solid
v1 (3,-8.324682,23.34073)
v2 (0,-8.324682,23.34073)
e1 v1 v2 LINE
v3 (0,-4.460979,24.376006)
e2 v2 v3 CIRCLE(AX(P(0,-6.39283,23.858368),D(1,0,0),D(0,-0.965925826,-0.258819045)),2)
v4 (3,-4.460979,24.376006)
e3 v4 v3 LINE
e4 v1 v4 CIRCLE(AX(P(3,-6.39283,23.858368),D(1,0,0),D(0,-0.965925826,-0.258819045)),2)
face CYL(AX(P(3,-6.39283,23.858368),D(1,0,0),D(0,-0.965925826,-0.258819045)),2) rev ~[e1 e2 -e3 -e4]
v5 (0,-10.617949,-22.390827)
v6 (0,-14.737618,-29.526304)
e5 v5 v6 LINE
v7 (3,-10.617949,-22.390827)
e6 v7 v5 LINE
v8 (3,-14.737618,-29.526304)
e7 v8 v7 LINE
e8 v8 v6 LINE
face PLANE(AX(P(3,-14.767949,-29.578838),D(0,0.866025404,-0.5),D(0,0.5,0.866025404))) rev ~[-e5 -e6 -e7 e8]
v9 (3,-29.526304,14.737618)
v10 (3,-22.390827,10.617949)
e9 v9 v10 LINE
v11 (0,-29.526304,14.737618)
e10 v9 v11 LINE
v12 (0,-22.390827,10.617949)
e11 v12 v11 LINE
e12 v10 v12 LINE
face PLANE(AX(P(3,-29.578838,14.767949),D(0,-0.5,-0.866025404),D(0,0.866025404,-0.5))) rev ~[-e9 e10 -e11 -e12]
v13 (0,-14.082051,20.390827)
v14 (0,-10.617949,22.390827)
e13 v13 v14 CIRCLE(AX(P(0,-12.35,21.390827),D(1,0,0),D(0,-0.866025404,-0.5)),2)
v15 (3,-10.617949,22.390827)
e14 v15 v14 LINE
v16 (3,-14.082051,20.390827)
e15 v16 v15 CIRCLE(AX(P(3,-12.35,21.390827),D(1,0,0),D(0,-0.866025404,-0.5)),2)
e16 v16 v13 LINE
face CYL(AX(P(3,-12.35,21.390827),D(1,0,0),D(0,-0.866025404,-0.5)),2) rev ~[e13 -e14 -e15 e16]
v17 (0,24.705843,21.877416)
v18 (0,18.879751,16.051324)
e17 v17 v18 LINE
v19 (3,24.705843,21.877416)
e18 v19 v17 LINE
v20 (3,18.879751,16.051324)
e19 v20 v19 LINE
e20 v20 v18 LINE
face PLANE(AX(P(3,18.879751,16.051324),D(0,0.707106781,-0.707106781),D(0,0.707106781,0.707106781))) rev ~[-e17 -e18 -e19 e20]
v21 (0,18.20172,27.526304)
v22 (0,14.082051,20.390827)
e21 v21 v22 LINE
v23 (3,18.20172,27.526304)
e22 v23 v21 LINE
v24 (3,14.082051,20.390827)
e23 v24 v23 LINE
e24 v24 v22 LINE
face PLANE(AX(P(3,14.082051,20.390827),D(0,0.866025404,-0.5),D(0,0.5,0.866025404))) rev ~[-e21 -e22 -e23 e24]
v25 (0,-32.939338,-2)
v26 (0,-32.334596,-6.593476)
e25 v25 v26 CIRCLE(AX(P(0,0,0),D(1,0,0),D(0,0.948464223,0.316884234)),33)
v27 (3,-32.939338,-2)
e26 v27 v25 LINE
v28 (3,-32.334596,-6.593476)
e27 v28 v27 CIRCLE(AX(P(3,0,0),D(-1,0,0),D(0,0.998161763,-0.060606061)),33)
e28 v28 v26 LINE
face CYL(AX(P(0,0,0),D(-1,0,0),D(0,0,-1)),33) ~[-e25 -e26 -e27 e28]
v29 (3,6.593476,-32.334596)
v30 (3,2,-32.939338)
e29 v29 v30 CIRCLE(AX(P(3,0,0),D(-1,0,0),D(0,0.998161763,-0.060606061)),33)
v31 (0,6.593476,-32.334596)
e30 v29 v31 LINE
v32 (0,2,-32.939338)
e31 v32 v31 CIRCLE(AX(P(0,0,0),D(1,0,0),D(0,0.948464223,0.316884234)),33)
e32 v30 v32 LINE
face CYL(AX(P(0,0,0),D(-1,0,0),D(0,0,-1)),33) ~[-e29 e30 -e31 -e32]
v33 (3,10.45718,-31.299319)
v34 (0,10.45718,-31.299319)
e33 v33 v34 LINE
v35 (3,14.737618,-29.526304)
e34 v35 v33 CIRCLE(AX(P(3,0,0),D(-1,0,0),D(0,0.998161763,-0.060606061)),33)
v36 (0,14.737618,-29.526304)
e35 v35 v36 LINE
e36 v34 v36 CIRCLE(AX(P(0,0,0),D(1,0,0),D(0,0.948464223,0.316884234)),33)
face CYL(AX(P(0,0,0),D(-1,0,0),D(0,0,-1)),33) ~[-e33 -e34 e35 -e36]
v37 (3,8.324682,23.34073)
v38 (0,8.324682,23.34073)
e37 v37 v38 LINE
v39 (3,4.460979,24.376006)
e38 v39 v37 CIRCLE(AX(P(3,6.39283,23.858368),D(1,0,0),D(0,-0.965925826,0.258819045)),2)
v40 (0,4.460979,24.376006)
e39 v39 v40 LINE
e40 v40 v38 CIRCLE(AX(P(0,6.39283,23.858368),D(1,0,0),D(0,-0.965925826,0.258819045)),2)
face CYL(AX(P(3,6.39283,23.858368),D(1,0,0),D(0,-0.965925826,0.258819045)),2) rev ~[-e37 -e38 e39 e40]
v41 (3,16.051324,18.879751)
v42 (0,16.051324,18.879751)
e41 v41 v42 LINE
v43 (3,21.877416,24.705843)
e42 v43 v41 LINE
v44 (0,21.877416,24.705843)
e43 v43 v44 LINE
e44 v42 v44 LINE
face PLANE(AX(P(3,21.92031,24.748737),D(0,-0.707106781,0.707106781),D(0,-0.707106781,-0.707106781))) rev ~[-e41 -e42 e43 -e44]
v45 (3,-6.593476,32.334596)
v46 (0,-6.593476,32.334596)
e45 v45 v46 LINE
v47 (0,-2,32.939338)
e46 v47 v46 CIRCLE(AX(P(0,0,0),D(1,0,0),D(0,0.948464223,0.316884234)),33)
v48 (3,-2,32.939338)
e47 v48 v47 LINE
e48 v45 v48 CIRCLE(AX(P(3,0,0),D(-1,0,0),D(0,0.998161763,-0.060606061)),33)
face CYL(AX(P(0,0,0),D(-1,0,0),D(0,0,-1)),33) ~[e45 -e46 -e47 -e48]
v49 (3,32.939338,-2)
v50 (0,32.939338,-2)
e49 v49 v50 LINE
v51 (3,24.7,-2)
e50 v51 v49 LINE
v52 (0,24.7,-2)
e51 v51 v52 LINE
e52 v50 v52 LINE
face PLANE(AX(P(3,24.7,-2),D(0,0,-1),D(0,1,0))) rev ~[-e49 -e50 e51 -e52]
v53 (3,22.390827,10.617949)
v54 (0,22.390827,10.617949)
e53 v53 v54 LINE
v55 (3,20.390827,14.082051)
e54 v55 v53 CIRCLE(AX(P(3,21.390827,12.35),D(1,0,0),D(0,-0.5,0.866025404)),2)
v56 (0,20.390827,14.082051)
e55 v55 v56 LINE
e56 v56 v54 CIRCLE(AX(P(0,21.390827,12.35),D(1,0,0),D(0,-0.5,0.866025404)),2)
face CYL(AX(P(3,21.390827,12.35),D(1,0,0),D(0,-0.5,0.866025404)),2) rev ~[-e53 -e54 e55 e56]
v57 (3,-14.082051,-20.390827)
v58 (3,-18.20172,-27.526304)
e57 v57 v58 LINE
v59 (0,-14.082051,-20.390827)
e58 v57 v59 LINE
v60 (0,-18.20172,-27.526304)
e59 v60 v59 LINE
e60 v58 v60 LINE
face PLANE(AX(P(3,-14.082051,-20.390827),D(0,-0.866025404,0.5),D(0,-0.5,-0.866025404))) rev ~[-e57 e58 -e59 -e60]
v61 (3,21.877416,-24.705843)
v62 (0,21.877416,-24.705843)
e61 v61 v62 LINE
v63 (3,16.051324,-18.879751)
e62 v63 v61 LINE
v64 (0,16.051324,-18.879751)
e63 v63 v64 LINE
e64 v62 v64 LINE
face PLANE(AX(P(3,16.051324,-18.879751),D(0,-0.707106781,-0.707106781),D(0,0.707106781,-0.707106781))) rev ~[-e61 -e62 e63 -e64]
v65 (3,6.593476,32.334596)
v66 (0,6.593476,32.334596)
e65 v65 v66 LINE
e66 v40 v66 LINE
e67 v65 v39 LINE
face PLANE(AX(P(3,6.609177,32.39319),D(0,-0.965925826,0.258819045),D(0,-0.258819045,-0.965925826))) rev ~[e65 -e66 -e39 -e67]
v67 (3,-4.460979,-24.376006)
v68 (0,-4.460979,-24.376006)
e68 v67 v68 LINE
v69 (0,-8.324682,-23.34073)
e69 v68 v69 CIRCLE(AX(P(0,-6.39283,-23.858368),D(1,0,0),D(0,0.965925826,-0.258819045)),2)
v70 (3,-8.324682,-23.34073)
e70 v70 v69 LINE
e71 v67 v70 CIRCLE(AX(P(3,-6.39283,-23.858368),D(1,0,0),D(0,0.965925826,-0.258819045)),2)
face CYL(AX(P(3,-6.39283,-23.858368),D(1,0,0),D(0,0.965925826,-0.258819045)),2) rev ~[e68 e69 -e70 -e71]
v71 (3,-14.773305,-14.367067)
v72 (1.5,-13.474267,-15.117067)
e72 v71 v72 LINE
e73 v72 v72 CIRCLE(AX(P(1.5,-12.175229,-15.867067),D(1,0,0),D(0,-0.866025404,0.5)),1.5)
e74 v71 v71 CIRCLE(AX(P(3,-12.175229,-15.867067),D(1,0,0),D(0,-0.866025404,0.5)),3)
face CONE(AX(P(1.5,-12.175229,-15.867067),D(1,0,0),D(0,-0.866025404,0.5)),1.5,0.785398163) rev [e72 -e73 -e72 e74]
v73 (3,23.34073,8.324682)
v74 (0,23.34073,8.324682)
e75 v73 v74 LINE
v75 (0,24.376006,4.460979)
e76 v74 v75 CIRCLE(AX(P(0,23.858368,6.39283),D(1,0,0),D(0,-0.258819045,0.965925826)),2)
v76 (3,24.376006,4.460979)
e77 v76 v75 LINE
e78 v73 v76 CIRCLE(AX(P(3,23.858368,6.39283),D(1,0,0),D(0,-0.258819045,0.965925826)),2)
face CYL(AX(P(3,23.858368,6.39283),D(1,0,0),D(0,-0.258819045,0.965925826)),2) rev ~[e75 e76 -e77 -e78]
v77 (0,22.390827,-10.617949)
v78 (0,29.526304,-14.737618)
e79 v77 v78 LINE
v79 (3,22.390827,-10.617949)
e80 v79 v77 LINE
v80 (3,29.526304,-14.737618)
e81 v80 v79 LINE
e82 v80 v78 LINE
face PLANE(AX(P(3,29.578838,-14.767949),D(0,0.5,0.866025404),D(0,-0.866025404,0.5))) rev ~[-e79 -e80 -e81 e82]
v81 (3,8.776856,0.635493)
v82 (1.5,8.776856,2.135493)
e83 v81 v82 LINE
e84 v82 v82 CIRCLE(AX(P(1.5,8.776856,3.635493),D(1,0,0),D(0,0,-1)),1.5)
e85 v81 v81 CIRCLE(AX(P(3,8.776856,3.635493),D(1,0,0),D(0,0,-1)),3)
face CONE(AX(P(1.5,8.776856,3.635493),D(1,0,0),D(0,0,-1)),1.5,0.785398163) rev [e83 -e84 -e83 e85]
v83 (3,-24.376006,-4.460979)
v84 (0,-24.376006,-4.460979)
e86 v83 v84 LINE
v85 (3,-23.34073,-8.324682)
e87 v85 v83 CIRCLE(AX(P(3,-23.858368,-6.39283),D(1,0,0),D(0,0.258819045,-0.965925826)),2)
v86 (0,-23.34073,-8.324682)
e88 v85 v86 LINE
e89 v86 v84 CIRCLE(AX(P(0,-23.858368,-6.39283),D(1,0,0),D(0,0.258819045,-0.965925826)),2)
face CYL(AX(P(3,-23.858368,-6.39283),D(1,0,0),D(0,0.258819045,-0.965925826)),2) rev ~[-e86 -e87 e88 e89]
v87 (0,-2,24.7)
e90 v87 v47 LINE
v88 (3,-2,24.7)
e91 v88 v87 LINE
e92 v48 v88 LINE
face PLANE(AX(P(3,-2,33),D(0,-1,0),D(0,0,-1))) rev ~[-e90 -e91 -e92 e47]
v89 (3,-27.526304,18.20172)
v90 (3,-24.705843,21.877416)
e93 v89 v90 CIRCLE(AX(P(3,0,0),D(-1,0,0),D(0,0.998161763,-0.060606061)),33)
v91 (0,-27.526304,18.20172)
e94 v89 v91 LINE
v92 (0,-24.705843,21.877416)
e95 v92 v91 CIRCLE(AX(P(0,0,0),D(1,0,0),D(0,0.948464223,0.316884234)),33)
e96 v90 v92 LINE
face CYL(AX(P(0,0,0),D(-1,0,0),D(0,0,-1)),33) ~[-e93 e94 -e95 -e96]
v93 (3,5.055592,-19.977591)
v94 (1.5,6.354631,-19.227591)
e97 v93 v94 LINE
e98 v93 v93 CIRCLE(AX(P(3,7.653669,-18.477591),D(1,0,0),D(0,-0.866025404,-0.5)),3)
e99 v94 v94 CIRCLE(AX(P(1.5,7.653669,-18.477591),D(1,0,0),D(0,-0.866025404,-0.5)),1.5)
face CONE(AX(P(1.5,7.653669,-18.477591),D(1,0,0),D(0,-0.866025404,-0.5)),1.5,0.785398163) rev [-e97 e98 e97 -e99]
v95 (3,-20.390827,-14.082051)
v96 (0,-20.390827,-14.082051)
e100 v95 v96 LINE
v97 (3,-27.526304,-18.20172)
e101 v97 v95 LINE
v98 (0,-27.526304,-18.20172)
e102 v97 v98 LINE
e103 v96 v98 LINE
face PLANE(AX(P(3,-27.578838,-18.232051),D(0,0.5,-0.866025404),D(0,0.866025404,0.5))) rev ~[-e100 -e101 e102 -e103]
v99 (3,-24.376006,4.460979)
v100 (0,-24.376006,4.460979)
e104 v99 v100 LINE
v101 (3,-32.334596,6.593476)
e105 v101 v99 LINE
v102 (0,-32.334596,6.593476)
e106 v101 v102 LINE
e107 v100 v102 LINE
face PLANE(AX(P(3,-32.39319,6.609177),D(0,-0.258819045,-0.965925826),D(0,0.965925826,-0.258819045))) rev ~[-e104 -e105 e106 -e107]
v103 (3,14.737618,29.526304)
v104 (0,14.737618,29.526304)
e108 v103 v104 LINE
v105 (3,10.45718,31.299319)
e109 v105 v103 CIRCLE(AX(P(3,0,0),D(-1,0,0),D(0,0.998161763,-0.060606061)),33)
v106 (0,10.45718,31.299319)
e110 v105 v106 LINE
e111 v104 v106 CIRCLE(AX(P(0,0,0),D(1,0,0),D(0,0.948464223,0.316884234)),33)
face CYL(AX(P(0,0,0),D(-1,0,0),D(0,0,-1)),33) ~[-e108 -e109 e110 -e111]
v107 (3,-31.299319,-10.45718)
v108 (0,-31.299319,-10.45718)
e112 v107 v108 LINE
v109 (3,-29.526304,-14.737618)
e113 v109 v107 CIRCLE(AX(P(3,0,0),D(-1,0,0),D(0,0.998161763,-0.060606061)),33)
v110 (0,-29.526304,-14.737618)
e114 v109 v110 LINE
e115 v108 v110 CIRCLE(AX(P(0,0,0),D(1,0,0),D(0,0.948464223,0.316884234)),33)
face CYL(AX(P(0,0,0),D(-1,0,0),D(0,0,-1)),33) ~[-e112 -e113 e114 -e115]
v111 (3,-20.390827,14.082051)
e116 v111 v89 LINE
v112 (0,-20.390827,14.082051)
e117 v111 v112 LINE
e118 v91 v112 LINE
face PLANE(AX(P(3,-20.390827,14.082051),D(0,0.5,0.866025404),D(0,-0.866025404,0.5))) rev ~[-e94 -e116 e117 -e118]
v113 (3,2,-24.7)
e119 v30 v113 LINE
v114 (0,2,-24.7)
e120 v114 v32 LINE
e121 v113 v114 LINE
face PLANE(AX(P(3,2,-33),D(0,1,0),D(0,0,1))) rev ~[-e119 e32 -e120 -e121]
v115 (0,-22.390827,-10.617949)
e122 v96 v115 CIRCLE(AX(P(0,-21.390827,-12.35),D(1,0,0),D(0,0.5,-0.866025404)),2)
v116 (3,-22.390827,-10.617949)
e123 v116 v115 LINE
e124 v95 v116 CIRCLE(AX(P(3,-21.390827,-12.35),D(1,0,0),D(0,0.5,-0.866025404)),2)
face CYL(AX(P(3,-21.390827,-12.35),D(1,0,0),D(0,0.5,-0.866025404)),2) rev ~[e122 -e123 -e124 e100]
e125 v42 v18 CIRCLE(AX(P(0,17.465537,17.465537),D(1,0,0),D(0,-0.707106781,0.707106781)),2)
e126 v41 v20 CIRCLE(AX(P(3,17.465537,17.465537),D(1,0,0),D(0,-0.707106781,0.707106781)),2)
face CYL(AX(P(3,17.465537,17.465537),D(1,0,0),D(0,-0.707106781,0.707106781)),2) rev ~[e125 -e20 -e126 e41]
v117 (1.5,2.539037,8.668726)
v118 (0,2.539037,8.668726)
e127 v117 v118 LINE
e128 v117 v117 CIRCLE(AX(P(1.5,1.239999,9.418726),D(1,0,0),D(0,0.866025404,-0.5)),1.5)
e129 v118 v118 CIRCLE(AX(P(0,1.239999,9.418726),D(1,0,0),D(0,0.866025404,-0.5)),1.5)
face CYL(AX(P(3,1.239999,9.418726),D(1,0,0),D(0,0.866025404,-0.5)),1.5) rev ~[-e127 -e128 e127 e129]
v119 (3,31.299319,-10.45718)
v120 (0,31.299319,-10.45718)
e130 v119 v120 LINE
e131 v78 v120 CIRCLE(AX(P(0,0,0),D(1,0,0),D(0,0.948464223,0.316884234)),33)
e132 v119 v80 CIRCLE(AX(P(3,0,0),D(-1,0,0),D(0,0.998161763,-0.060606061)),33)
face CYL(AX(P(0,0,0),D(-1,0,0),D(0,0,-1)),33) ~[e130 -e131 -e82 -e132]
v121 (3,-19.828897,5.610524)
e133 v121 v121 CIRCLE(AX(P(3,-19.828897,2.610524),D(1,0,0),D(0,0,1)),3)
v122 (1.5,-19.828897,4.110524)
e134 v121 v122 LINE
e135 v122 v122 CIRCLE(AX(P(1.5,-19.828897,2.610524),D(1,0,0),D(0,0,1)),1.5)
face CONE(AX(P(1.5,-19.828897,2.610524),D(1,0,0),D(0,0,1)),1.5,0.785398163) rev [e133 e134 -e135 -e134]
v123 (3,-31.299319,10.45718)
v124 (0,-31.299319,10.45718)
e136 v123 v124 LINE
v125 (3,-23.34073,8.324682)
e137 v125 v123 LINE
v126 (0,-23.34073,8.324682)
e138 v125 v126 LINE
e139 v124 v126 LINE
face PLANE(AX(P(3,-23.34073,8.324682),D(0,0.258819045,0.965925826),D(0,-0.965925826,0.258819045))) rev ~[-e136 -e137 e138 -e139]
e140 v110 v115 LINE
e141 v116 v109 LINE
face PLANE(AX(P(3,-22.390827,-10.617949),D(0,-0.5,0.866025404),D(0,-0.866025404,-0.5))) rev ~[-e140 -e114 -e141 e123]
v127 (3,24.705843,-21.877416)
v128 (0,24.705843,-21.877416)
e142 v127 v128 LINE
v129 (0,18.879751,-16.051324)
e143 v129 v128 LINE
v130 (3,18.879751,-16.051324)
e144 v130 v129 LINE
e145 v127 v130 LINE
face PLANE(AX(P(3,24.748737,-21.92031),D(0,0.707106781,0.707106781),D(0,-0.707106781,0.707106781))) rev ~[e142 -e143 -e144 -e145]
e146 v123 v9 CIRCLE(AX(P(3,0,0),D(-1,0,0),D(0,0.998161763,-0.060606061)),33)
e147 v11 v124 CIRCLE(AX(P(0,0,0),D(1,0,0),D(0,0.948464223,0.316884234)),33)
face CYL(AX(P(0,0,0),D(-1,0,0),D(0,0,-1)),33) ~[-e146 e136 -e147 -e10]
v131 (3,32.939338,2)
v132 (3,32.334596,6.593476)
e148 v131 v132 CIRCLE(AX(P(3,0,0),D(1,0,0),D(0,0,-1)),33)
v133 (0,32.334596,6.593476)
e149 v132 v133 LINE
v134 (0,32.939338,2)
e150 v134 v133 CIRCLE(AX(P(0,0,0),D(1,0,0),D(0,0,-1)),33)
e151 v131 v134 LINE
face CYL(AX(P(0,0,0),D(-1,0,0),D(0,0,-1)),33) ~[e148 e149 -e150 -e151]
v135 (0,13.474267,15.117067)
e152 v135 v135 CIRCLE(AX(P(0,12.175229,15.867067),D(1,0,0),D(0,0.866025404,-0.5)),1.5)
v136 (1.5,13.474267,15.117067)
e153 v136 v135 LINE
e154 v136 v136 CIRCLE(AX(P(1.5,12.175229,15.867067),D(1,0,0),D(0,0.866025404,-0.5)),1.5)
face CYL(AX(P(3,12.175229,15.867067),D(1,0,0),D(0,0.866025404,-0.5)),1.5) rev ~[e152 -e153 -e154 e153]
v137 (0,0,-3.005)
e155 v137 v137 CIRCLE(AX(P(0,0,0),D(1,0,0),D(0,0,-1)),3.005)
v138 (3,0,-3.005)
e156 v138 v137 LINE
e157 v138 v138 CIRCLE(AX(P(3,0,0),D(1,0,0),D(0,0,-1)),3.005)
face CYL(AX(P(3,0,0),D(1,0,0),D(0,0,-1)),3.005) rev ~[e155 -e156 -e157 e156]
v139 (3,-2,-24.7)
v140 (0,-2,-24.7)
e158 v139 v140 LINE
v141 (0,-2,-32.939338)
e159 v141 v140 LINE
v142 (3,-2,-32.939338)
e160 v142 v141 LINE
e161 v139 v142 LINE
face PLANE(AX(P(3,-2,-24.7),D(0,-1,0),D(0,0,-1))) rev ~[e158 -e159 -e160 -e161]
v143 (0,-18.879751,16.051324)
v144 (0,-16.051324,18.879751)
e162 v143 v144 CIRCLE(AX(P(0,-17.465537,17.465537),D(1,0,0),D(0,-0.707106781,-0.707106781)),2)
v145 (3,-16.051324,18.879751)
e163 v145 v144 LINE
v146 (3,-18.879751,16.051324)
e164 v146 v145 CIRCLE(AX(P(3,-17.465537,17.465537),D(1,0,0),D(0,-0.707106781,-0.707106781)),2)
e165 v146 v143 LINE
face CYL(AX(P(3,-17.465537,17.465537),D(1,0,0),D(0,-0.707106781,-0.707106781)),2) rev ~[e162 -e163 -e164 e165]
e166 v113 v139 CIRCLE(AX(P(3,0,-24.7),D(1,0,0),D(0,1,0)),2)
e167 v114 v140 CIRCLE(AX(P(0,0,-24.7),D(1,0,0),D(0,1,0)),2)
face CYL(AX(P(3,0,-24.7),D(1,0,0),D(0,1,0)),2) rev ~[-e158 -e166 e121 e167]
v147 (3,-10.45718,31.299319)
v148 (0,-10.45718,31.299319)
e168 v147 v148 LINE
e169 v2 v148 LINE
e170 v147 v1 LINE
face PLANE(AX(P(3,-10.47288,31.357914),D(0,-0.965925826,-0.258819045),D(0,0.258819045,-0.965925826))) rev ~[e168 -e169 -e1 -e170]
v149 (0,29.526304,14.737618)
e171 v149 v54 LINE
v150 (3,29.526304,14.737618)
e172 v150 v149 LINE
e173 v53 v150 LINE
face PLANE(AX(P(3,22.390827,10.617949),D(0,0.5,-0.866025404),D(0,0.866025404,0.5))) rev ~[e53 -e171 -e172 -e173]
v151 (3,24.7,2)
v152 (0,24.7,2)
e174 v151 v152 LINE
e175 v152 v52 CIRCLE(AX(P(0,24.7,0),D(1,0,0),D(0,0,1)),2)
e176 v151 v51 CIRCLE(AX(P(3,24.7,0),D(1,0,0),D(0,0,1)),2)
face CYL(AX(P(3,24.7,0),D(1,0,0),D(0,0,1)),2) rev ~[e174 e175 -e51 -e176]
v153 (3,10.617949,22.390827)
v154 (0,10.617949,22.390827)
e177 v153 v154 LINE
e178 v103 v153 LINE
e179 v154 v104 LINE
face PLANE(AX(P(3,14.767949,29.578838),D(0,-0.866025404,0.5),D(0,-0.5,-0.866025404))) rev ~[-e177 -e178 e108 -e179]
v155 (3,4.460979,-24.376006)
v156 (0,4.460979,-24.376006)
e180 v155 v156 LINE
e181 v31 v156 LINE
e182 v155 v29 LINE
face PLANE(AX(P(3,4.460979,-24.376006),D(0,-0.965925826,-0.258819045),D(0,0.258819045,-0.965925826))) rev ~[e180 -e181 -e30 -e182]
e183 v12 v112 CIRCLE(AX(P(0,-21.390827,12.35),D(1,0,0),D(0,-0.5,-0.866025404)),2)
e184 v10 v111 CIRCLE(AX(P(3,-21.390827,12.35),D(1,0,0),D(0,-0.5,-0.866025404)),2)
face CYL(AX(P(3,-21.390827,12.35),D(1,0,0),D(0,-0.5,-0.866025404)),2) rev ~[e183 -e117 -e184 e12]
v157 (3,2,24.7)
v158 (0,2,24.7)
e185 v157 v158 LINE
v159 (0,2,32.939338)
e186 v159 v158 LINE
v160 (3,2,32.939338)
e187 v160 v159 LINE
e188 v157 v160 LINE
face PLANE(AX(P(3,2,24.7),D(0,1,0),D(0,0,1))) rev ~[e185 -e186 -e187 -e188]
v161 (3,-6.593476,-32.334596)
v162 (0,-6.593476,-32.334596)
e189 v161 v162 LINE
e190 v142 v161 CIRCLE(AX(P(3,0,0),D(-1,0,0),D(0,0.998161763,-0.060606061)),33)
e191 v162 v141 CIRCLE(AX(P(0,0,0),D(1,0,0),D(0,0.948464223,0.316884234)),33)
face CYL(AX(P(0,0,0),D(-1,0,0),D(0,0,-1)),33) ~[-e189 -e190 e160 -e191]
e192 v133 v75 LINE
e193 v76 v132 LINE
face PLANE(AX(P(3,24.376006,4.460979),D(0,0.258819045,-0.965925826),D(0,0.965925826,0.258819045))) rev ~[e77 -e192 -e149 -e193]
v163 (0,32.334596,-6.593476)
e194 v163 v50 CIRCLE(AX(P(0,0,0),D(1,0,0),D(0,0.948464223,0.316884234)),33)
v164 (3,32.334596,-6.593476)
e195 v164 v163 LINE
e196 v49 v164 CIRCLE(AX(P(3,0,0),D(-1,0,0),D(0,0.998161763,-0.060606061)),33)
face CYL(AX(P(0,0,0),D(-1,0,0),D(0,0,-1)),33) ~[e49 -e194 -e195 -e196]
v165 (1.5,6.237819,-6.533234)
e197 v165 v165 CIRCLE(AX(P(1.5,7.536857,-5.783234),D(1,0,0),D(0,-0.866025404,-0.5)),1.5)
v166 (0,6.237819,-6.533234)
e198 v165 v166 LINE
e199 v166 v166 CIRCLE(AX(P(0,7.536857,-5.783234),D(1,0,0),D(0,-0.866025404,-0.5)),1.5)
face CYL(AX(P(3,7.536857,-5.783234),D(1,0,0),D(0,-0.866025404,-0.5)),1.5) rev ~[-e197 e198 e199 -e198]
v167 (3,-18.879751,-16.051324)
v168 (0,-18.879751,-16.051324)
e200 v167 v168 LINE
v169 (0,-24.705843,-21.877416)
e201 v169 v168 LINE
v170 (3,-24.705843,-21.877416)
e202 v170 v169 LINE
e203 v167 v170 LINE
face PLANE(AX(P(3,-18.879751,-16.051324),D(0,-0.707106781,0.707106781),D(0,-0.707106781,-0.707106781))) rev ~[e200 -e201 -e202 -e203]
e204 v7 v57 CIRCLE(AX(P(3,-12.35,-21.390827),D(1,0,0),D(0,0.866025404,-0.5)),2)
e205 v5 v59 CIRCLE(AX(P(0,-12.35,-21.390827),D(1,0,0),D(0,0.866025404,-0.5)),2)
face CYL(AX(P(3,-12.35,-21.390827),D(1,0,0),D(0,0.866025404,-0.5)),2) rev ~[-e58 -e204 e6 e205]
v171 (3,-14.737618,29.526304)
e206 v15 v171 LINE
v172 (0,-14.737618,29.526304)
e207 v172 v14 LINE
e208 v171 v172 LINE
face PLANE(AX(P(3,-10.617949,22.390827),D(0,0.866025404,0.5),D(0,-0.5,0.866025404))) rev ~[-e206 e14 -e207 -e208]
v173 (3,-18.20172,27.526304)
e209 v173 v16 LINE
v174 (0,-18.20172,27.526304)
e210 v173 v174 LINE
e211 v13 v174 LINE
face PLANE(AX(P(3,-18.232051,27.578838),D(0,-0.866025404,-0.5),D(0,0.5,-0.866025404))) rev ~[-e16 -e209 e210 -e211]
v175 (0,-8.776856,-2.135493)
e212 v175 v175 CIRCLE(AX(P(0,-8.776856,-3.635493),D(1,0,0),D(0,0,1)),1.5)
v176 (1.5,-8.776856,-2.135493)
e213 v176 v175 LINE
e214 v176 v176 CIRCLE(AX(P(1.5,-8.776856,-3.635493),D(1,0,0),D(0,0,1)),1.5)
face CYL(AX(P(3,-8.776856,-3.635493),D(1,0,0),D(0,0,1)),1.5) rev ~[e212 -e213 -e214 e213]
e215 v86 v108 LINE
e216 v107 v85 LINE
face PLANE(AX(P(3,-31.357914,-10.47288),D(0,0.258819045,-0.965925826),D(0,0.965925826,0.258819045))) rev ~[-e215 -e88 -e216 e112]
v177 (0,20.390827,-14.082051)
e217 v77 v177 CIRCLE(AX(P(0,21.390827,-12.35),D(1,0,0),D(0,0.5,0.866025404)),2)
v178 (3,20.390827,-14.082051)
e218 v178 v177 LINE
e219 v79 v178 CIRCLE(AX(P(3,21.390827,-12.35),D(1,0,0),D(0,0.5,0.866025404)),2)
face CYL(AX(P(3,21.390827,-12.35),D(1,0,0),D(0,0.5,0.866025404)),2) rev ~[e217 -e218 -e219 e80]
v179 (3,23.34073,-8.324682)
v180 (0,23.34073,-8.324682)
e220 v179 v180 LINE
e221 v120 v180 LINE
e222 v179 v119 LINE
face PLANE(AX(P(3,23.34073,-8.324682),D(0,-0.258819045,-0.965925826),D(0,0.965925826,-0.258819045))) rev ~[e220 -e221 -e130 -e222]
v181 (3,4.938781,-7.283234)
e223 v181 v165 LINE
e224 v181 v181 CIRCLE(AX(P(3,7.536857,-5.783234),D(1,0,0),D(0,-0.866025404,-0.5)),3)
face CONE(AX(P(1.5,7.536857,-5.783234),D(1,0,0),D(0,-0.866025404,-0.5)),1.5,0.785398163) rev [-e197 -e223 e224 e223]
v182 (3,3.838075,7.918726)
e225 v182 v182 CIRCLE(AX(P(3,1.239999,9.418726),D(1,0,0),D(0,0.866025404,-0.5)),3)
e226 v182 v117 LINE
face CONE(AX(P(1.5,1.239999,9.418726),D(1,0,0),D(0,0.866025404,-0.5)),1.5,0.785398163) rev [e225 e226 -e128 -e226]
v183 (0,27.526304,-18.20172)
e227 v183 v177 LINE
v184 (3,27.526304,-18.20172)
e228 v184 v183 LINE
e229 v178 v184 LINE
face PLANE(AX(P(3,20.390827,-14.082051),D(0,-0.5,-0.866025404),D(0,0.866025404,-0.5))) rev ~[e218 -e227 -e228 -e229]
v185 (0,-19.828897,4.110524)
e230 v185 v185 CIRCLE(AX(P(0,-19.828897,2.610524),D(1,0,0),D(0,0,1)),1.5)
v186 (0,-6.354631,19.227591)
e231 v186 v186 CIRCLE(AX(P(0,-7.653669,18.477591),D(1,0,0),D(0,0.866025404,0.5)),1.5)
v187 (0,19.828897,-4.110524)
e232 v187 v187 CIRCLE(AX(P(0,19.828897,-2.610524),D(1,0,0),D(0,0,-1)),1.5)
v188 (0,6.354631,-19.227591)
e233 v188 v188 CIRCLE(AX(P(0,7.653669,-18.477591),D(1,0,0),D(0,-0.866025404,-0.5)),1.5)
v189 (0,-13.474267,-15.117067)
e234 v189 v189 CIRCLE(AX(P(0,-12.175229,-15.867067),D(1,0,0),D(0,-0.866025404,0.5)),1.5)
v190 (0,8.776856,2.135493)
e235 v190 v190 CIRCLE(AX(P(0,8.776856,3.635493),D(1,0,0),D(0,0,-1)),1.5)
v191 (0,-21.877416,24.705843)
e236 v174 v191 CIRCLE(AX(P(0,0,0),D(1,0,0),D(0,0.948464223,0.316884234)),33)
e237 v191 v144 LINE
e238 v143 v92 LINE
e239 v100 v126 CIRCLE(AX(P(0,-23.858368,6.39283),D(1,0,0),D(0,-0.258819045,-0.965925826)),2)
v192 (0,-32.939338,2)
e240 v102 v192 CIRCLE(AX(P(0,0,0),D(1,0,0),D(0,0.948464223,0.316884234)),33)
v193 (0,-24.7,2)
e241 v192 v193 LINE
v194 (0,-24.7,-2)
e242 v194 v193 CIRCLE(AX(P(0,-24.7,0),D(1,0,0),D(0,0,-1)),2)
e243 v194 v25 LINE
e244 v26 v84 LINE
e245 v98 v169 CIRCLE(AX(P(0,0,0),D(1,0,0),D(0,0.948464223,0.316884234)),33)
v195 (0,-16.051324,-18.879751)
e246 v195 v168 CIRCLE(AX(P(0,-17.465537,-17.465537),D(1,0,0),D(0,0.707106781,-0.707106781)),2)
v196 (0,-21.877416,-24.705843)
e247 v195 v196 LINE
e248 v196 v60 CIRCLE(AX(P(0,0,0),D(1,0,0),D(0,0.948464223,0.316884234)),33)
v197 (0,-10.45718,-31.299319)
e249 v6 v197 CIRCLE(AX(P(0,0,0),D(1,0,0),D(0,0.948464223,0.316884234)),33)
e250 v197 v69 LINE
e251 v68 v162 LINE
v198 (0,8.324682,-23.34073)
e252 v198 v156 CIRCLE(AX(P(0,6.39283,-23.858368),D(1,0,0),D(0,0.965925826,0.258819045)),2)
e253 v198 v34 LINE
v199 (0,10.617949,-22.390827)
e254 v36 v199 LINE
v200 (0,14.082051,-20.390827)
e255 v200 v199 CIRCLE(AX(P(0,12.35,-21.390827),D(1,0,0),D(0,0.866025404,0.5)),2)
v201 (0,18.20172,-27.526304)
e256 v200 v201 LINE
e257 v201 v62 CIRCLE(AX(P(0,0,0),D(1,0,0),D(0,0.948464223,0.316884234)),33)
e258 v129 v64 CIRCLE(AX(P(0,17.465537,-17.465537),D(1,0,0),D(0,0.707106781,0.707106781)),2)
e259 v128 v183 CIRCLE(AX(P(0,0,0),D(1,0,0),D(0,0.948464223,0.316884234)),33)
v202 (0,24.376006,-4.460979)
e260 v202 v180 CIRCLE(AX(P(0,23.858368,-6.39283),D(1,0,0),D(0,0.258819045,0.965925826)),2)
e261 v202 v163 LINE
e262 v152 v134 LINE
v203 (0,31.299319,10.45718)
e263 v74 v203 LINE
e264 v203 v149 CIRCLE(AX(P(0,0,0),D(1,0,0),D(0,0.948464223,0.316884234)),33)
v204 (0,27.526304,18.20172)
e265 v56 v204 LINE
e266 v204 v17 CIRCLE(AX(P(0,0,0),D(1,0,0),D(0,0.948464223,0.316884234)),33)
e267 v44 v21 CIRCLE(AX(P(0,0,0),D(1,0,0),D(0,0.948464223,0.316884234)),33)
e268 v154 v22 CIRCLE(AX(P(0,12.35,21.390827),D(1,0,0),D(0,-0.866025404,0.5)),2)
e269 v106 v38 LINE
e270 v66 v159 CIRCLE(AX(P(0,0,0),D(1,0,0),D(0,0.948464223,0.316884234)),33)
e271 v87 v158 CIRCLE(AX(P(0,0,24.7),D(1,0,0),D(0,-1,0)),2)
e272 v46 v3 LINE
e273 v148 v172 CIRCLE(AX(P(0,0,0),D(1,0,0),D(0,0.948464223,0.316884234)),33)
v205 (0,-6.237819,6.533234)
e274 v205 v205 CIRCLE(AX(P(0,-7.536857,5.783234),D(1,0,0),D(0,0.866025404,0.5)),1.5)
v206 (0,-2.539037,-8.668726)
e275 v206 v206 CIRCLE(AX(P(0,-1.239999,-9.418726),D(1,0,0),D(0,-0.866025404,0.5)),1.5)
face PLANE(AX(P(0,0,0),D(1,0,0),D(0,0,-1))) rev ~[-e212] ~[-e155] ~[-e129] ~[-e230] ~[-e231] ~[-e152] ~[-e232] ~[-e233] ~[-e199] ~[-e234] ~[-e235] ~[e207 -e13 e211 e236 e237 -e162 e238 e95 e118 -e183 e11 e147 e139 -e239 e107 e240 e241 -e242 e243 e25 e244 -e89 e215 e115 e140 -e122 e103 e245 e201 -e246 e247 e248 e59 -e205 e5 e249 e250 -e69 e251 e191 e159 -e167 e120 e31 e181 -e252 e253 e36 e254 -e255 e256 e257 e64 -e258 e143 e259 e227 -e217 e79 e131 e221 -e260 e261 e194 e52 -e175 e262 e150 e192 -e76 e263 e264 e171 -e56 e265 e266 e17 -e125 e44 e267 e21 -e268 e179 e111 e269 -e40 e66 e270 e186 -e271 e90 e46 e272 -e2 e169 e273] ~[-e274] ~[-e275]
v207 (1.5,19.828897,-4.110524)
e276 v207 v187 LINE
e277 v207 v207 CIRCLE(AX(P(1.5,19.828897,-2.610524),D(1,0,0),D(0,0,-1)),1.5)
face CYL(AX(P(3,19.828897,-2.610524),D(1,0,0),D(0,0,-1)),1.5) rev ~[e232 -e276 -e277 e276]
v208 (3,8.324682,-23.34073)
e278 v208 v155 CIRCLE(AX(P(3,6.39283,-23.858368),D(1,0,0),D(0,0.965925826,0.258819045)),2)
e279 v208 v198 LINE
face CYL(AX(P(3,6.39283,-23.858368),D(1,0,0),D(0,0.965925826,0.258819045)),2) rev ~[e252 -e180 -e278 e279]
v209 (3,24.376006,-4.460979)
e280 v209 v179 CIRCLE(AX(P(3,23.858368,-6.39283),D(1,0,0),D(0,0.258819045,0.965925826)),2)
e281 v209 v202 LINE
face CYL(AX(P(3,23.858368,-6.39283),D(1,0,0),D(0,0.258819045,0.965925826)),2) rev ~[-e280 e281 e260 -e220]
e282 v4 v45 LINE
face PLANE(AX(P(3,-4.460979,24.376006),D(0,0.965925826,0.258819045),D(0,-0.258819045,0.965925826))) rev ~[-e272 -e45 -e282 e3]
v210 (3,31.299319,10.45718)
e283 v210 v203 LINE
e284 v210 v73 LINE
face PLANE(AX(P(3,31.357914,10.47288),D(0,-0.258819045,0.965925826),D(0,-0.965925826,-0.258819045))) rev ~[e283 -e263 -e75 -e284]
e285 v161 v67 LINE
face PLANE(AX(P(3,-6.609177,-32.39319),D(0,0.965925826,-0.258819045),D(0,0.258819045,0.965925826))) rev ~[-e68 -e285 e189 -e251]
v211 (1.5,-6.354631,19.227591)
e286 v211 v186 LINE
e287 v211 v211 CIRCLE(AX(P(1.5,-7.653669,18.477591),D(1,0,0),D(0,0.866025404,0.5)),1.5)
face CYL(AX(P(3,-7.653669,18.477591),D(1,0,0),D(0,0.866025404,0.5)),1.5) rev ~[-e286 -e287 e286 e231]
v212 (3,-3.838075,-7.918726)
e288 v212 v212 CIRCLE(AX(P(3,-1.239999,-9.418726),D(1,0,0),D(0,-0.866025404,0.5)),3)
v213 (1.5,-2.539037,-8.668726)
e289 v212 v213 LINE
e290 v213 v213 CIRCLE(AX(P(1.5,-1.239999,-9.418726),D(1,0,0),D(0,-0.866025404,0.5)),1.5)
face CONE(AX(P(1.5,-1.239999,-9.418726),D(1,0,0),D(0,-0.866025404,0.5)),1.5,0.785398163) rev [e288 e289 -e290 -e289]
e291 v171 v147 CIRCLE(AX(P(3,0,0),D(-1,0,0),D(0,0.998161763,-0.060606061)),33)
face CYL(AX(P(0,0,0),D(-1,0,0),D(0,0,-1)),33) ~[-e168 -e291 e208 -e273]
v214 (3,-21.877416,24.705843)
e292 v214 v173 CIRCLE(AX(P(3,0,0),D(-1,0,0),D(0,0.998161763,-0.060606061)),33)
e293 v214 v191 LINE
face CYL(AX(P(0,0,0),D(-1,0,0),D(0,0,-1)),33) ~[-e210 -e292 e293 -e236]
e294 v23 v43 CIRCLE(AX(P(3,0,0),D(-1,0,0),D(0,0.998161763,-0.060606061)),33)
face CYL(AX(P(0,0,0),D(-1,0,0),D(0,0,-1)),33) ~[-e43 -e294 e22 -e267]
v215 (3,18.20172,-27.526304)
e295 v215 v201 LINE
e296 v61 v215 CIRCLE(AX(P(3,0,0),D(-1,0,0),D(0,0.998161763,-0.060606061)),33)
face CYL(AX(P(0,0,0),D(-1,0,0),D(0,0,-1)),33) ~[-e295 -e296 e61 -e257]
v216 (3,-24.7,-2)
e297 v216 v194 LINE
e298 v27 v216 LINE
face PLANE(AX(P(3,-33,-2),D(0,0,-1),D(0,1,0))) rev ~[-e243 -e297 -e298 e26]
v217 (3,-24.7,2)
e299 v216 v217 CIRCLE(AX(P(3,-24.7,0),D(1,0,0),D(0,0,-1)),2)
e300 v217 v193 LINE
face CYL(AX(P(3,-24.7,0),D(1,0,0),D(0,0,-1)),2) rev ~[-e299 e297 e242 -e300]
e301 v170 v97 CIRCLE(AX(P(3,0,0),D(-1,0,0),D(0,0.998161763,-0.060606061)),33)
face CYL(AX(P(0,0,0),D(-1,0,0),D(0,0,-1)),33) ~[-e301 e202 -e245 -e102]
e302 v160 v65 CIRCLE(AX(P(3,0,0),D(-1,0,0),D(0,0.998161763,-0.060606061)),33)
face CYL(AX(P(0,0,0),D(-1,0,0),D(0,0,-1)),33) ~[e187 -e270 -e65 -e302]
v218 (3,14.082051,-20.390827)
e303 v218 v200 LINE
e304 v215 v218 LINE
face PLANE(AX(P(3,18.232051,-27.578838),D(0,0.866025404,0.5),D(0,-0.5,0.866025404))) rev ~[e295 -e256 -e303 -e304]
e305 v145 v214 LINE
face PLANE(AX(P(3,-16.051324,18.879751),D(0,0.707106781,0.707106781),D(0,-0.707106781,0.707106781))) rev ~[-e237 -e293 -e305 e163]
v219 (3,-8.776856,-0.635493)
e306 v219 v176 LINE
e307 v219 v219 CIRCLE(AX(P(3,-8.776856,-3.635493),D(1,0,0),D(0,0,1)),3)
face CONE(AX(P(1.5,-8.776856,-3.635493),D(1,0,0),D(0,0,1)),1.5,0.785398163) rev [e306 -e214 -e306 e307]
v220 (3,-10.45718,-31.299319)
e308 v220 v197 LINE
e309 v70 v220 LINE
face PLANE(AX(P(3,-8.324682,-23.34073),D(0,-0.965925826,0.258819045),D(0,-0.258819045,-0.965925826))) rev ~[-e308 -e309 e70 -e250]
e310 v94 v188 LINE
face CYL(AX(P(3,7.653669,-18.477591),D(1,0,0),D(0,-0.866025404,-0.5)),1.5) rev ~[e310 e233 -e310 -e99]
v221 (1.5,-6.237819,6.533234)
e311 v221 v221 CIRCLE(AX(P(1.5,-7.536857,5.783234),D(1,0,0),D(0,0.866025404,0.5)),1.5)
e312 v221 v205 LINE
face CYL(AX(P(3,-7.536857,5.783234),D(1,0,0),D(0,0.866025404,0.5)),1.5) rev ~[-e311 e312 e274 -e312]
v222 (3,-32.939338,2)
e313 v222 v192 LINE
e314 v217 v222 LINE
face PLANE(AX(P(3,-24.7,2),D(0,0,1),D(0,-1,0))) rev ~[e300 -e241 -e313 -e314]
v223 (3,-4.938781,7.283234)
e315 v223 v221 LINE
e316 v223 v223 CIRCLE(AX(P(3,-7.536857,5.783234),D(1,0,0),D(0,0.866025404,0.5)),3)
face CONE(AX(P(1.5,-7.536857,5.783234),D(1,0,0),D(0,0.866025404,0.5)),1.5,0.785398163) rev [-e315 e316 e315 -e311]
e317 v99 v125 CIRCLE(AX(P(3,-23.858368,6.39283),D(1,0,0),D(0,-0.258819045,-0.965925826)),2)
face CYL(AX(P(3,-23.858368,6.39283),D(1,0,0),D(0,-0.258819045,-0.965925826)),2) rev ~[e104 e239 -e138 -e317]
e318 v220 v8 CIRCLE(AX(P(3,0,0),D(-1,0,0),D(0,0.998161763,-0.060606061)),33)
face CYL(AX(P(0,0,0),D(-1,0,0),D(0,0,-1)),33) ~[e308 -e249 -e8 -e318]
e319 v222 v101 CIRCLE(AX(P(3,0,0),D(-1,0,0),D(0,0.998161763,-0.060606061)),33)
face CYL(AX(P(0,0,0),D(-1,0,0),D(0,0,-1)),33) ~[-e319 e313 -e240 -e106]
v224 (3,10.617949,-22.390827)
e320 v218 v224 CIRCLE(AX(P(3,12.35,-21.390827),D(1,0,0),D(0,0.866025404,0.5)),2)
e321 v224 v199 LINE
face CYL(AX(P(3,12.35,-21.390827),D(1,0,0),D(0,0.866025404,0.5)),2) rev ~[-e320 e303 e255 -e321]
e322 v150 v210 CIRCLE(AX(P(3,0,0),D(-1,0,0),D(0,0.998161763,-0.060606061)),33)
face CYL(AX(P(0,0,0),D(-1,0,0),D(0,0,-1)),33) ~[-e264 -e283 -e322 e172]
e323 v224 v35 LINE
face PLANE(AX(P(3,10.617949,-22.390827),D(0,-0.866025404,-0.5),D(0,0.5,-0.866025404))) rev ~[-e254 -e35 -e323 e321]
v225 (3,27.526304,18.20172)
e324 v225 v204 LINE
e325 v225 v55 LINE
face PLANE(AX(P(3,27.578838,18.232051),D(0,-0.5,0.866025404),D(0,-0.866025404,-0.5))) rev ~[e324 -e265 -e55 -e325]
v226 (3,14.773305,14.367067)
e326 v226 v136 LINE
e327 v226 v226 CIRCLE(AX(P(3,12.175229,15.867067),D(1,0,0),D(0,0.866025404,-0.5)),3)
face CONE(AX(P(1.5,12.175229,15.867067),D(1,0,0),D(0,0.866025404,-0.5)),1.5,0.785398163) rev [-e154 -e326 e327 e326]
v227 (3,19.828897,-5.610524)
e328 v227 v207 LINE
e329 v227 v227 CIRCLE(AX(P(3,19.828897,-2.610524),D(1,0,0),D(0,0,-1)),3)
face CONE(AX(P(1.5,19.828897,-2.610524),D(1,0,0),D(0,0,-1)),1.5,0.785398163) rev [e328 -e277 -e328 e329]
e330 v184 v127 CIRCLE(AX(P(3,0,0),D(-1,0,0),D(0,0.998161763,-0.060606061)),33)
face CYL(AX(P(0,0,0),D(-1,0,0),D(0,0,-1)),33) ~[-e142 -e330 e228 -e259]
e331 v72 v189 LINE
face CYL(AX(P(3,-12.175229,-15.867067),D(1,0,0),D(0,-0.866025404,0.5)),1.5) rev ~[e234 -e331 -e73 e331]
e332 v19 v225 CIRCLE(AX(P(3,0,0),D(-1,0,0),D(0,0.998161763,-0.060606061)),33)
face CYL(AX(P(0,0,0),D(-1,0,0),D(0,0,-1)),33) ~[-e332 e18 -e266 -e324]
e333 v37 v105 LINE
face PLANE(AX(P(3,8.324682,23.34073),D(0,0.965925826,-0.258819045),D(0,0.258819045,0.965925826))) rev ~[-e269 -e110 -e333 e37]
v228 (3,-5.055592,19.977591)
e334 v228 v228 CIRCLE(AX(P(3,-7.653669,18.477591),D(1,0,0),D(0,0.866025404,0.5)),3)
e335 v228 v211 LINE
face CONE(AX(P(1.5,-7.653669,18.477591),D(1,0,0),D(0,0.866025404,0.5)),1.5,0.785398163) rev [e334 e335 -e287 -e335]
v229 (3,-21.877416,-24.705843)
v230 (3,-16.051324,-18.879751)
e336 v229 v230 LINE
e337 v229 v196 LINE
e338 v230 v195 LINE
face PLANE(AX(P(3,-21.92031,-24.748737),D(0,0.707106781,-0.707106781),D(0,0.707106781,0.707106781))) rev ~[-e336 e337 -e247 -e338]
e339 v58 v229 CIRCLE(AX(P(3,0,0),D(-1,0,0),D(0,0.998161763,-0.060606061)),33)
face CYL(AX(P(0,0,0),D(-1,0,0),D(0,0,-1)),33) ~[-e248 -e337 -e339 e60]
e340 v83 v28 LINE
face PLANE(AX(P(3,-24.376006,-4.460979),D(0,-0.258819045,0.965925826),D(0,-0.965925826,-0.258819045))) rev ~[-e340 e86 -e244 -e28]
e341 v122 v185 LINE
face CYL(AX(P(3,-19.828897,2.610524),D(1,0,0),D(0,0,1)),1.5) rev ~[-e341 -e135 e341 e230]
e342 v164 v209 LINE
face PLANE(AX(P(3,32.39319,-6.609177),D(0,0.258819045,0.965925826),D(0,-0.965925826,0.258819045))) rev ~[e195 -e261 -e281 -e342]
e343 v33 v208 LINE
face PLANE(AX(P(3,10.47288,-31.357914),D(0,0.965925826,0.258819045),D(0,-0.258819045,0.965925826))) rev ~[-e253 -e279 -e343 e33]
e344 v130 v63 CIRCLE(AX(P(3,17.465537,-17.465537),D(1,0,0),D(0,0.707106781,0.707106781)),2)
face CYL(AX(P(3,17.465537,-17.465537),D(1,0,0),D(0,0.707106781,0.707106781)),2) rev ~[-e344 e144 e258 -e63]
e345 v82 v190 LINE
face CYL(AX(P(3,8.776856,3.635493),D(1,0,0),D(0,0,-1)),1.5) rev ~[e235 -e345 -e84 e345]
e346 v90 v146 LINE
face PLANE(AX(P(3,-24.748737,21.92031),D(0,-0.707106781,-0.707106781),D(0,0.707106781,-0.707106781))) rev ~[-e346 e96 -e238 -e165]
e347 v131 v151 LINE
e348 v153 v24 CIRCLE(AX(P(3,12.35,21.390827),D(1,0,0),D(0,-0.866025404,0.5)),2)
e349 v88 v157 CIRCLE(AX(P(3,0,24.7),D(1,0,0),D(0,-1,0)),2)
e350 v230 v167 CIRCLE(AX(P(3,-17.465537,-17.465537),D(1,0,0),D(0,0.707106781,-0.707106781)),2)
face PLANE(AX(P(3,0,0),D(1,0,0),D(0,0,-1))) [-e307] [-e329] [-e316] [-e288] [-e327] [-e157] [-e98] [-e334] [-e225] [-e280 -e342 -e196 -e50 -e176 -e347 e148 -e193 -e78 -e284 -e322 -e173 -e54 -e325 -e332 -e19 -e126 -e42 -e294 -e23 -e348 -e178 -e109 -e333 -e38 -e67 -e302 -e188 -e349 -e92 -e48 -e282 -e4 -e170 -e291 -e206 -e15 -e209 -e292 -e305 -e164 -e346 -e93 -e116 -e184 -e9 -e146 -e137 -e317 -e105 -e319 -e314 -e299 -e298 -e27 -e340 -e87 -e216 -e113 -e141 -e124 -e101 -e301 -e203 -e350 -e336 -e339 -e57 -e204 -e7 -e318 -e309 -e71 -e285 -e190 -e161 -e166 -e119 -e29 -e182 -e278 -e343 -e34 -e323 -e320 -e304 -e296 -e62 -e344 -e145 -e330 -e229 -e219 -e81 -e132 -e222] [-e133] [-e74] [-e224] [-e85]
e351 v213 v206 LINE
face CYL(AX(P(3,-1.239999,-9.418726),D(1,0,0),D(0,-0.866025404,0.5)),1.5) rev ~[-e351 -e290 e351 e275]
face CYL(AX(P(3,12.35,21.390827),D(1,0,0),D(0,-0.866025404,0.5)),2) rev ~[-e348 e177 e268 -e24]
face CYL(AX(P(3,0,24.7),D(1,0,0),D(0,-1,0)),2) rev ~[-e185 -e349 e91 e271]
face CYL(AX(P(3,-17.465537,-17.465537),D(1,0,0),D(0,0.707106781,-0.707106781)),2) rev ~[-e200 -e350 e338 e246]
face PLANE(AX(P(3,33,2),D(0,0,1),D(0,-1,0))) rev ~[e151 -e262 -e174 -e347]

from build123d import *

# Parameters (mm, degrees)
SKETCH1_R                    = 33
BOSS_EXTRUDE1_DEPTH          = 3
CUT_EXTRUDE2_REACH           = 48.765
SKETCH3_R                    = 3.005
CUT_EXTRUDE3_REACH           = 48.765
CIRPATTERN2_COUNT            = 24
CUT_EXTRUDE1_REACH           = 48.68
SKETCH2_R                    = 1.5
CHAMFER1_SIZE                = 1.5
CIRPATTERN1_COUNT            = 6
CHAMFER1_OF_CIRPATTERN1_SIZE = 1.5
CUT_EXTRUDE4_REACH           = 48.68
SKETCH5_R                    = 1.5
CHAMFER2_SIZE                = 1.5
CIRPATTERN3_COUNT            = 6
CHAMFER2_OF_CIRPATTERN3_SIZE = 1.5


with BuildPart() as part:
    # Sketch1 → Boss-Extrude1 (new body)
    with BuildSketch(Plane(origin=(0, 0, 0), x_dir=(0, 0, -1), z_dir=(1, 0, 0))):
        Circle(SKETCH1_R)
    extrude(amount=BOSS_EXTRUDE1_DEPTH)

    # Sketch3 → Cut-Extrude2 (cut, up to next)
    with BuildSketch(Plane(origin=(3, 0, 0), x_dir=(0, 0, -1), z_dir=(1, 0, 0)), mode=Mode.PRIVATE) as cut_extrude2_sk1:
        Circle(SKETCH3_R)
    cut_extrude2_tool1 = extrude(cut_extrude2_sk1.sketch, amount=-CUT_EXTRUDE2_REACH, mode=Mode.PRIVATE) & part.part
    add(cut_extrude2_tool1.solids().sort_by_distance((3, 0, 0))[0], mode=Mode.SUBTRACT)

    # Sketch4 → Cut-Extrude3 (cut, up to next)
    with BuildSketch(Plane(origin=(3, 0, 0), x_dir=(0, 0, -1), z_dir=(1, 0, 0)), mode=Mode.PRIVATE) as cut_extrude3_sk1:
        with BuildLine():
            Line((-2, 33), (-2, 24.7))
            ThreePointArc((-2, 24.7), (0, 22.7), (2, 24.7))
            Line((2, 24.7), (2, 33))
            Line((2, 33), (-2, 33))
        make_face()
    cut_extrude3_tool1 = extrude(cut_extrude3_sk1.sketch, amount=-CUT_EXTRUDE3_REACH, mode=Mode.PRIVATE) & part.part
    cut_extrude3 = cut_extrude3_tool1.solids().sort_by_distance((3, 28.054508, 0))[0]
    add(cut_extrude3, mode=Mode.SUBTRACT)

    # CirPattern2: Cut-Extrude3 ×24 about axis
    cirpattern2_axis = Axis((0, 0, 0), (1, 0, 0))
    for i in range(1, CIRPATTERN2_COUNT):
        add(cut_extrude3.rotate(cirpattern2_axis, i * 360 / CIRPATTERN2_COUNT), mode=Mode.SUBTRACT)

    # Sketch2 → Cut-Extrude1 (cut, up to next)
    with BuildSketch(Plane(origin=(3, 0, 0), x_dir=(0, 0, -1), z_dir=(1, 0, 0)), mode=Mode.PRIVATE) as cut_extrude1_sk1:
        with Locations((2.610523844, 19.828897227)):
            Circle(SKETCH2_R)
    cut_extrude1_tool1 = extrude(cut_extrude1_sk1.sketch, amount=-CUT_EXTRUDE1_REACH, mode=Mode.PRIVATE) & part.part
    cut_extrude1 = cut_extrude1_tool1.solids().sort_by_distance((3, 19.828897, -2.610524))[0]
    add(cut_extrude1, mode=Mode.SUBTRACT)

    # Chamfer1
    chamfer1_edges = [part.edges().sort_by_distance(p)[0] for p in [
        (3, 19.828897227, -1.110523844),
    ]]
    chamfer(chamfer1_edges, length=CHAMFER1_SIZE)

    # CirPattern1: Cut-Extrude1 ×6 about axis
    cirpattern1_axis = Axis((0, 0, 0), (1, 0, 0))
    for i in range(1, CIRPATTERN1_COUNT):
        add(cut_extrude1.rotate(cirpattern1_axis, i * 360 / CIRPATTERN1_COUNT), mode=Mode.SUBTRACT)

    # Chamfer1 of CirPattern1
    chamfer1_of_cirpattern1_edges = [part.edges().sort_by_distance(p)[0] for p in [
        (3, 10.876190474, 16.617066806),
        (3, -8.952706753, 17.72759065),
        (3, -19.828897227, 1.110523844),
        (3, -10.876190474, -16.617066806),
        (3, 8.952706753, -17.72759065),
    ]]
    chamfer(chamfer1_of_cirpattern1_edges, length=CHAMFER1_OF_CIRPATTERN1_SIZE)

    # Sketch5 → Cut-Extrude4 (cut, up to next)
    with BuildSketch(Plane(origin=(3, 0, 0), x_dir=(0, 0, -1), z_dir=(1, 0, 0)), mode=Mode.PRIVATE) as cut_extrude4_sk1:
        with Locations((-3.635492607, 8.776855559)):
            Circle(SKETCH5_R)
    cut_extrude4_tool1 = extrude(cut_extrude4_sk1.sketch, amount=-CUT_EXTRUDE4_REACH, mode=Mode.PRIVATE) & part.part
    cut_extrude4 = cut_extrude4_tool1.solids().sort_by_distance((3, 8.776856, 3.635493))[0]
    add(cut_extrude4, mode=Mode.SUBTRACT)

    # Chamfer2
    chamfer2_edges = [part.edges().sort_by_distance(p)[0] for p in [
        (3, 8.776855559, 5.135492607),
    ]]
    chamfer(chamfer2_edges, length=CHAMFER2_SIZE)

    # CirPattern3: Cut-Extrude4 ×6 about axis
    cirpattern3_axis = Axis((0, 0, 0), (1, 0, 0))
    for i in range(1, CIRPATTERN3_COUNT):
        add(cut_extrude4.rotate(cirpattern3_axis, i * 360 / CIRPATTERN3_COUNT), mode=Mode.SUBTRACT)

    # Chamfer2 of CirPattern3
    chamfer2_of_cirpattern3_edges = [part.edges().sort_by_distance(p)[0] for p in [
        (3, -0.05903928, 10.168726183),
        (3, -8.835894838, 5.033233576),
        (3, -8.776855559, -5.135492607),
        (3, 0.05903928, -10.168726183),
        (3, 8.835894838, -5.033233576),
    ]]
    chamfer(chamfer2_of_cirpattern3_edges, length=CHAMFER2_OF_CIRPATTERN3_SIZE)


solid = part.part
